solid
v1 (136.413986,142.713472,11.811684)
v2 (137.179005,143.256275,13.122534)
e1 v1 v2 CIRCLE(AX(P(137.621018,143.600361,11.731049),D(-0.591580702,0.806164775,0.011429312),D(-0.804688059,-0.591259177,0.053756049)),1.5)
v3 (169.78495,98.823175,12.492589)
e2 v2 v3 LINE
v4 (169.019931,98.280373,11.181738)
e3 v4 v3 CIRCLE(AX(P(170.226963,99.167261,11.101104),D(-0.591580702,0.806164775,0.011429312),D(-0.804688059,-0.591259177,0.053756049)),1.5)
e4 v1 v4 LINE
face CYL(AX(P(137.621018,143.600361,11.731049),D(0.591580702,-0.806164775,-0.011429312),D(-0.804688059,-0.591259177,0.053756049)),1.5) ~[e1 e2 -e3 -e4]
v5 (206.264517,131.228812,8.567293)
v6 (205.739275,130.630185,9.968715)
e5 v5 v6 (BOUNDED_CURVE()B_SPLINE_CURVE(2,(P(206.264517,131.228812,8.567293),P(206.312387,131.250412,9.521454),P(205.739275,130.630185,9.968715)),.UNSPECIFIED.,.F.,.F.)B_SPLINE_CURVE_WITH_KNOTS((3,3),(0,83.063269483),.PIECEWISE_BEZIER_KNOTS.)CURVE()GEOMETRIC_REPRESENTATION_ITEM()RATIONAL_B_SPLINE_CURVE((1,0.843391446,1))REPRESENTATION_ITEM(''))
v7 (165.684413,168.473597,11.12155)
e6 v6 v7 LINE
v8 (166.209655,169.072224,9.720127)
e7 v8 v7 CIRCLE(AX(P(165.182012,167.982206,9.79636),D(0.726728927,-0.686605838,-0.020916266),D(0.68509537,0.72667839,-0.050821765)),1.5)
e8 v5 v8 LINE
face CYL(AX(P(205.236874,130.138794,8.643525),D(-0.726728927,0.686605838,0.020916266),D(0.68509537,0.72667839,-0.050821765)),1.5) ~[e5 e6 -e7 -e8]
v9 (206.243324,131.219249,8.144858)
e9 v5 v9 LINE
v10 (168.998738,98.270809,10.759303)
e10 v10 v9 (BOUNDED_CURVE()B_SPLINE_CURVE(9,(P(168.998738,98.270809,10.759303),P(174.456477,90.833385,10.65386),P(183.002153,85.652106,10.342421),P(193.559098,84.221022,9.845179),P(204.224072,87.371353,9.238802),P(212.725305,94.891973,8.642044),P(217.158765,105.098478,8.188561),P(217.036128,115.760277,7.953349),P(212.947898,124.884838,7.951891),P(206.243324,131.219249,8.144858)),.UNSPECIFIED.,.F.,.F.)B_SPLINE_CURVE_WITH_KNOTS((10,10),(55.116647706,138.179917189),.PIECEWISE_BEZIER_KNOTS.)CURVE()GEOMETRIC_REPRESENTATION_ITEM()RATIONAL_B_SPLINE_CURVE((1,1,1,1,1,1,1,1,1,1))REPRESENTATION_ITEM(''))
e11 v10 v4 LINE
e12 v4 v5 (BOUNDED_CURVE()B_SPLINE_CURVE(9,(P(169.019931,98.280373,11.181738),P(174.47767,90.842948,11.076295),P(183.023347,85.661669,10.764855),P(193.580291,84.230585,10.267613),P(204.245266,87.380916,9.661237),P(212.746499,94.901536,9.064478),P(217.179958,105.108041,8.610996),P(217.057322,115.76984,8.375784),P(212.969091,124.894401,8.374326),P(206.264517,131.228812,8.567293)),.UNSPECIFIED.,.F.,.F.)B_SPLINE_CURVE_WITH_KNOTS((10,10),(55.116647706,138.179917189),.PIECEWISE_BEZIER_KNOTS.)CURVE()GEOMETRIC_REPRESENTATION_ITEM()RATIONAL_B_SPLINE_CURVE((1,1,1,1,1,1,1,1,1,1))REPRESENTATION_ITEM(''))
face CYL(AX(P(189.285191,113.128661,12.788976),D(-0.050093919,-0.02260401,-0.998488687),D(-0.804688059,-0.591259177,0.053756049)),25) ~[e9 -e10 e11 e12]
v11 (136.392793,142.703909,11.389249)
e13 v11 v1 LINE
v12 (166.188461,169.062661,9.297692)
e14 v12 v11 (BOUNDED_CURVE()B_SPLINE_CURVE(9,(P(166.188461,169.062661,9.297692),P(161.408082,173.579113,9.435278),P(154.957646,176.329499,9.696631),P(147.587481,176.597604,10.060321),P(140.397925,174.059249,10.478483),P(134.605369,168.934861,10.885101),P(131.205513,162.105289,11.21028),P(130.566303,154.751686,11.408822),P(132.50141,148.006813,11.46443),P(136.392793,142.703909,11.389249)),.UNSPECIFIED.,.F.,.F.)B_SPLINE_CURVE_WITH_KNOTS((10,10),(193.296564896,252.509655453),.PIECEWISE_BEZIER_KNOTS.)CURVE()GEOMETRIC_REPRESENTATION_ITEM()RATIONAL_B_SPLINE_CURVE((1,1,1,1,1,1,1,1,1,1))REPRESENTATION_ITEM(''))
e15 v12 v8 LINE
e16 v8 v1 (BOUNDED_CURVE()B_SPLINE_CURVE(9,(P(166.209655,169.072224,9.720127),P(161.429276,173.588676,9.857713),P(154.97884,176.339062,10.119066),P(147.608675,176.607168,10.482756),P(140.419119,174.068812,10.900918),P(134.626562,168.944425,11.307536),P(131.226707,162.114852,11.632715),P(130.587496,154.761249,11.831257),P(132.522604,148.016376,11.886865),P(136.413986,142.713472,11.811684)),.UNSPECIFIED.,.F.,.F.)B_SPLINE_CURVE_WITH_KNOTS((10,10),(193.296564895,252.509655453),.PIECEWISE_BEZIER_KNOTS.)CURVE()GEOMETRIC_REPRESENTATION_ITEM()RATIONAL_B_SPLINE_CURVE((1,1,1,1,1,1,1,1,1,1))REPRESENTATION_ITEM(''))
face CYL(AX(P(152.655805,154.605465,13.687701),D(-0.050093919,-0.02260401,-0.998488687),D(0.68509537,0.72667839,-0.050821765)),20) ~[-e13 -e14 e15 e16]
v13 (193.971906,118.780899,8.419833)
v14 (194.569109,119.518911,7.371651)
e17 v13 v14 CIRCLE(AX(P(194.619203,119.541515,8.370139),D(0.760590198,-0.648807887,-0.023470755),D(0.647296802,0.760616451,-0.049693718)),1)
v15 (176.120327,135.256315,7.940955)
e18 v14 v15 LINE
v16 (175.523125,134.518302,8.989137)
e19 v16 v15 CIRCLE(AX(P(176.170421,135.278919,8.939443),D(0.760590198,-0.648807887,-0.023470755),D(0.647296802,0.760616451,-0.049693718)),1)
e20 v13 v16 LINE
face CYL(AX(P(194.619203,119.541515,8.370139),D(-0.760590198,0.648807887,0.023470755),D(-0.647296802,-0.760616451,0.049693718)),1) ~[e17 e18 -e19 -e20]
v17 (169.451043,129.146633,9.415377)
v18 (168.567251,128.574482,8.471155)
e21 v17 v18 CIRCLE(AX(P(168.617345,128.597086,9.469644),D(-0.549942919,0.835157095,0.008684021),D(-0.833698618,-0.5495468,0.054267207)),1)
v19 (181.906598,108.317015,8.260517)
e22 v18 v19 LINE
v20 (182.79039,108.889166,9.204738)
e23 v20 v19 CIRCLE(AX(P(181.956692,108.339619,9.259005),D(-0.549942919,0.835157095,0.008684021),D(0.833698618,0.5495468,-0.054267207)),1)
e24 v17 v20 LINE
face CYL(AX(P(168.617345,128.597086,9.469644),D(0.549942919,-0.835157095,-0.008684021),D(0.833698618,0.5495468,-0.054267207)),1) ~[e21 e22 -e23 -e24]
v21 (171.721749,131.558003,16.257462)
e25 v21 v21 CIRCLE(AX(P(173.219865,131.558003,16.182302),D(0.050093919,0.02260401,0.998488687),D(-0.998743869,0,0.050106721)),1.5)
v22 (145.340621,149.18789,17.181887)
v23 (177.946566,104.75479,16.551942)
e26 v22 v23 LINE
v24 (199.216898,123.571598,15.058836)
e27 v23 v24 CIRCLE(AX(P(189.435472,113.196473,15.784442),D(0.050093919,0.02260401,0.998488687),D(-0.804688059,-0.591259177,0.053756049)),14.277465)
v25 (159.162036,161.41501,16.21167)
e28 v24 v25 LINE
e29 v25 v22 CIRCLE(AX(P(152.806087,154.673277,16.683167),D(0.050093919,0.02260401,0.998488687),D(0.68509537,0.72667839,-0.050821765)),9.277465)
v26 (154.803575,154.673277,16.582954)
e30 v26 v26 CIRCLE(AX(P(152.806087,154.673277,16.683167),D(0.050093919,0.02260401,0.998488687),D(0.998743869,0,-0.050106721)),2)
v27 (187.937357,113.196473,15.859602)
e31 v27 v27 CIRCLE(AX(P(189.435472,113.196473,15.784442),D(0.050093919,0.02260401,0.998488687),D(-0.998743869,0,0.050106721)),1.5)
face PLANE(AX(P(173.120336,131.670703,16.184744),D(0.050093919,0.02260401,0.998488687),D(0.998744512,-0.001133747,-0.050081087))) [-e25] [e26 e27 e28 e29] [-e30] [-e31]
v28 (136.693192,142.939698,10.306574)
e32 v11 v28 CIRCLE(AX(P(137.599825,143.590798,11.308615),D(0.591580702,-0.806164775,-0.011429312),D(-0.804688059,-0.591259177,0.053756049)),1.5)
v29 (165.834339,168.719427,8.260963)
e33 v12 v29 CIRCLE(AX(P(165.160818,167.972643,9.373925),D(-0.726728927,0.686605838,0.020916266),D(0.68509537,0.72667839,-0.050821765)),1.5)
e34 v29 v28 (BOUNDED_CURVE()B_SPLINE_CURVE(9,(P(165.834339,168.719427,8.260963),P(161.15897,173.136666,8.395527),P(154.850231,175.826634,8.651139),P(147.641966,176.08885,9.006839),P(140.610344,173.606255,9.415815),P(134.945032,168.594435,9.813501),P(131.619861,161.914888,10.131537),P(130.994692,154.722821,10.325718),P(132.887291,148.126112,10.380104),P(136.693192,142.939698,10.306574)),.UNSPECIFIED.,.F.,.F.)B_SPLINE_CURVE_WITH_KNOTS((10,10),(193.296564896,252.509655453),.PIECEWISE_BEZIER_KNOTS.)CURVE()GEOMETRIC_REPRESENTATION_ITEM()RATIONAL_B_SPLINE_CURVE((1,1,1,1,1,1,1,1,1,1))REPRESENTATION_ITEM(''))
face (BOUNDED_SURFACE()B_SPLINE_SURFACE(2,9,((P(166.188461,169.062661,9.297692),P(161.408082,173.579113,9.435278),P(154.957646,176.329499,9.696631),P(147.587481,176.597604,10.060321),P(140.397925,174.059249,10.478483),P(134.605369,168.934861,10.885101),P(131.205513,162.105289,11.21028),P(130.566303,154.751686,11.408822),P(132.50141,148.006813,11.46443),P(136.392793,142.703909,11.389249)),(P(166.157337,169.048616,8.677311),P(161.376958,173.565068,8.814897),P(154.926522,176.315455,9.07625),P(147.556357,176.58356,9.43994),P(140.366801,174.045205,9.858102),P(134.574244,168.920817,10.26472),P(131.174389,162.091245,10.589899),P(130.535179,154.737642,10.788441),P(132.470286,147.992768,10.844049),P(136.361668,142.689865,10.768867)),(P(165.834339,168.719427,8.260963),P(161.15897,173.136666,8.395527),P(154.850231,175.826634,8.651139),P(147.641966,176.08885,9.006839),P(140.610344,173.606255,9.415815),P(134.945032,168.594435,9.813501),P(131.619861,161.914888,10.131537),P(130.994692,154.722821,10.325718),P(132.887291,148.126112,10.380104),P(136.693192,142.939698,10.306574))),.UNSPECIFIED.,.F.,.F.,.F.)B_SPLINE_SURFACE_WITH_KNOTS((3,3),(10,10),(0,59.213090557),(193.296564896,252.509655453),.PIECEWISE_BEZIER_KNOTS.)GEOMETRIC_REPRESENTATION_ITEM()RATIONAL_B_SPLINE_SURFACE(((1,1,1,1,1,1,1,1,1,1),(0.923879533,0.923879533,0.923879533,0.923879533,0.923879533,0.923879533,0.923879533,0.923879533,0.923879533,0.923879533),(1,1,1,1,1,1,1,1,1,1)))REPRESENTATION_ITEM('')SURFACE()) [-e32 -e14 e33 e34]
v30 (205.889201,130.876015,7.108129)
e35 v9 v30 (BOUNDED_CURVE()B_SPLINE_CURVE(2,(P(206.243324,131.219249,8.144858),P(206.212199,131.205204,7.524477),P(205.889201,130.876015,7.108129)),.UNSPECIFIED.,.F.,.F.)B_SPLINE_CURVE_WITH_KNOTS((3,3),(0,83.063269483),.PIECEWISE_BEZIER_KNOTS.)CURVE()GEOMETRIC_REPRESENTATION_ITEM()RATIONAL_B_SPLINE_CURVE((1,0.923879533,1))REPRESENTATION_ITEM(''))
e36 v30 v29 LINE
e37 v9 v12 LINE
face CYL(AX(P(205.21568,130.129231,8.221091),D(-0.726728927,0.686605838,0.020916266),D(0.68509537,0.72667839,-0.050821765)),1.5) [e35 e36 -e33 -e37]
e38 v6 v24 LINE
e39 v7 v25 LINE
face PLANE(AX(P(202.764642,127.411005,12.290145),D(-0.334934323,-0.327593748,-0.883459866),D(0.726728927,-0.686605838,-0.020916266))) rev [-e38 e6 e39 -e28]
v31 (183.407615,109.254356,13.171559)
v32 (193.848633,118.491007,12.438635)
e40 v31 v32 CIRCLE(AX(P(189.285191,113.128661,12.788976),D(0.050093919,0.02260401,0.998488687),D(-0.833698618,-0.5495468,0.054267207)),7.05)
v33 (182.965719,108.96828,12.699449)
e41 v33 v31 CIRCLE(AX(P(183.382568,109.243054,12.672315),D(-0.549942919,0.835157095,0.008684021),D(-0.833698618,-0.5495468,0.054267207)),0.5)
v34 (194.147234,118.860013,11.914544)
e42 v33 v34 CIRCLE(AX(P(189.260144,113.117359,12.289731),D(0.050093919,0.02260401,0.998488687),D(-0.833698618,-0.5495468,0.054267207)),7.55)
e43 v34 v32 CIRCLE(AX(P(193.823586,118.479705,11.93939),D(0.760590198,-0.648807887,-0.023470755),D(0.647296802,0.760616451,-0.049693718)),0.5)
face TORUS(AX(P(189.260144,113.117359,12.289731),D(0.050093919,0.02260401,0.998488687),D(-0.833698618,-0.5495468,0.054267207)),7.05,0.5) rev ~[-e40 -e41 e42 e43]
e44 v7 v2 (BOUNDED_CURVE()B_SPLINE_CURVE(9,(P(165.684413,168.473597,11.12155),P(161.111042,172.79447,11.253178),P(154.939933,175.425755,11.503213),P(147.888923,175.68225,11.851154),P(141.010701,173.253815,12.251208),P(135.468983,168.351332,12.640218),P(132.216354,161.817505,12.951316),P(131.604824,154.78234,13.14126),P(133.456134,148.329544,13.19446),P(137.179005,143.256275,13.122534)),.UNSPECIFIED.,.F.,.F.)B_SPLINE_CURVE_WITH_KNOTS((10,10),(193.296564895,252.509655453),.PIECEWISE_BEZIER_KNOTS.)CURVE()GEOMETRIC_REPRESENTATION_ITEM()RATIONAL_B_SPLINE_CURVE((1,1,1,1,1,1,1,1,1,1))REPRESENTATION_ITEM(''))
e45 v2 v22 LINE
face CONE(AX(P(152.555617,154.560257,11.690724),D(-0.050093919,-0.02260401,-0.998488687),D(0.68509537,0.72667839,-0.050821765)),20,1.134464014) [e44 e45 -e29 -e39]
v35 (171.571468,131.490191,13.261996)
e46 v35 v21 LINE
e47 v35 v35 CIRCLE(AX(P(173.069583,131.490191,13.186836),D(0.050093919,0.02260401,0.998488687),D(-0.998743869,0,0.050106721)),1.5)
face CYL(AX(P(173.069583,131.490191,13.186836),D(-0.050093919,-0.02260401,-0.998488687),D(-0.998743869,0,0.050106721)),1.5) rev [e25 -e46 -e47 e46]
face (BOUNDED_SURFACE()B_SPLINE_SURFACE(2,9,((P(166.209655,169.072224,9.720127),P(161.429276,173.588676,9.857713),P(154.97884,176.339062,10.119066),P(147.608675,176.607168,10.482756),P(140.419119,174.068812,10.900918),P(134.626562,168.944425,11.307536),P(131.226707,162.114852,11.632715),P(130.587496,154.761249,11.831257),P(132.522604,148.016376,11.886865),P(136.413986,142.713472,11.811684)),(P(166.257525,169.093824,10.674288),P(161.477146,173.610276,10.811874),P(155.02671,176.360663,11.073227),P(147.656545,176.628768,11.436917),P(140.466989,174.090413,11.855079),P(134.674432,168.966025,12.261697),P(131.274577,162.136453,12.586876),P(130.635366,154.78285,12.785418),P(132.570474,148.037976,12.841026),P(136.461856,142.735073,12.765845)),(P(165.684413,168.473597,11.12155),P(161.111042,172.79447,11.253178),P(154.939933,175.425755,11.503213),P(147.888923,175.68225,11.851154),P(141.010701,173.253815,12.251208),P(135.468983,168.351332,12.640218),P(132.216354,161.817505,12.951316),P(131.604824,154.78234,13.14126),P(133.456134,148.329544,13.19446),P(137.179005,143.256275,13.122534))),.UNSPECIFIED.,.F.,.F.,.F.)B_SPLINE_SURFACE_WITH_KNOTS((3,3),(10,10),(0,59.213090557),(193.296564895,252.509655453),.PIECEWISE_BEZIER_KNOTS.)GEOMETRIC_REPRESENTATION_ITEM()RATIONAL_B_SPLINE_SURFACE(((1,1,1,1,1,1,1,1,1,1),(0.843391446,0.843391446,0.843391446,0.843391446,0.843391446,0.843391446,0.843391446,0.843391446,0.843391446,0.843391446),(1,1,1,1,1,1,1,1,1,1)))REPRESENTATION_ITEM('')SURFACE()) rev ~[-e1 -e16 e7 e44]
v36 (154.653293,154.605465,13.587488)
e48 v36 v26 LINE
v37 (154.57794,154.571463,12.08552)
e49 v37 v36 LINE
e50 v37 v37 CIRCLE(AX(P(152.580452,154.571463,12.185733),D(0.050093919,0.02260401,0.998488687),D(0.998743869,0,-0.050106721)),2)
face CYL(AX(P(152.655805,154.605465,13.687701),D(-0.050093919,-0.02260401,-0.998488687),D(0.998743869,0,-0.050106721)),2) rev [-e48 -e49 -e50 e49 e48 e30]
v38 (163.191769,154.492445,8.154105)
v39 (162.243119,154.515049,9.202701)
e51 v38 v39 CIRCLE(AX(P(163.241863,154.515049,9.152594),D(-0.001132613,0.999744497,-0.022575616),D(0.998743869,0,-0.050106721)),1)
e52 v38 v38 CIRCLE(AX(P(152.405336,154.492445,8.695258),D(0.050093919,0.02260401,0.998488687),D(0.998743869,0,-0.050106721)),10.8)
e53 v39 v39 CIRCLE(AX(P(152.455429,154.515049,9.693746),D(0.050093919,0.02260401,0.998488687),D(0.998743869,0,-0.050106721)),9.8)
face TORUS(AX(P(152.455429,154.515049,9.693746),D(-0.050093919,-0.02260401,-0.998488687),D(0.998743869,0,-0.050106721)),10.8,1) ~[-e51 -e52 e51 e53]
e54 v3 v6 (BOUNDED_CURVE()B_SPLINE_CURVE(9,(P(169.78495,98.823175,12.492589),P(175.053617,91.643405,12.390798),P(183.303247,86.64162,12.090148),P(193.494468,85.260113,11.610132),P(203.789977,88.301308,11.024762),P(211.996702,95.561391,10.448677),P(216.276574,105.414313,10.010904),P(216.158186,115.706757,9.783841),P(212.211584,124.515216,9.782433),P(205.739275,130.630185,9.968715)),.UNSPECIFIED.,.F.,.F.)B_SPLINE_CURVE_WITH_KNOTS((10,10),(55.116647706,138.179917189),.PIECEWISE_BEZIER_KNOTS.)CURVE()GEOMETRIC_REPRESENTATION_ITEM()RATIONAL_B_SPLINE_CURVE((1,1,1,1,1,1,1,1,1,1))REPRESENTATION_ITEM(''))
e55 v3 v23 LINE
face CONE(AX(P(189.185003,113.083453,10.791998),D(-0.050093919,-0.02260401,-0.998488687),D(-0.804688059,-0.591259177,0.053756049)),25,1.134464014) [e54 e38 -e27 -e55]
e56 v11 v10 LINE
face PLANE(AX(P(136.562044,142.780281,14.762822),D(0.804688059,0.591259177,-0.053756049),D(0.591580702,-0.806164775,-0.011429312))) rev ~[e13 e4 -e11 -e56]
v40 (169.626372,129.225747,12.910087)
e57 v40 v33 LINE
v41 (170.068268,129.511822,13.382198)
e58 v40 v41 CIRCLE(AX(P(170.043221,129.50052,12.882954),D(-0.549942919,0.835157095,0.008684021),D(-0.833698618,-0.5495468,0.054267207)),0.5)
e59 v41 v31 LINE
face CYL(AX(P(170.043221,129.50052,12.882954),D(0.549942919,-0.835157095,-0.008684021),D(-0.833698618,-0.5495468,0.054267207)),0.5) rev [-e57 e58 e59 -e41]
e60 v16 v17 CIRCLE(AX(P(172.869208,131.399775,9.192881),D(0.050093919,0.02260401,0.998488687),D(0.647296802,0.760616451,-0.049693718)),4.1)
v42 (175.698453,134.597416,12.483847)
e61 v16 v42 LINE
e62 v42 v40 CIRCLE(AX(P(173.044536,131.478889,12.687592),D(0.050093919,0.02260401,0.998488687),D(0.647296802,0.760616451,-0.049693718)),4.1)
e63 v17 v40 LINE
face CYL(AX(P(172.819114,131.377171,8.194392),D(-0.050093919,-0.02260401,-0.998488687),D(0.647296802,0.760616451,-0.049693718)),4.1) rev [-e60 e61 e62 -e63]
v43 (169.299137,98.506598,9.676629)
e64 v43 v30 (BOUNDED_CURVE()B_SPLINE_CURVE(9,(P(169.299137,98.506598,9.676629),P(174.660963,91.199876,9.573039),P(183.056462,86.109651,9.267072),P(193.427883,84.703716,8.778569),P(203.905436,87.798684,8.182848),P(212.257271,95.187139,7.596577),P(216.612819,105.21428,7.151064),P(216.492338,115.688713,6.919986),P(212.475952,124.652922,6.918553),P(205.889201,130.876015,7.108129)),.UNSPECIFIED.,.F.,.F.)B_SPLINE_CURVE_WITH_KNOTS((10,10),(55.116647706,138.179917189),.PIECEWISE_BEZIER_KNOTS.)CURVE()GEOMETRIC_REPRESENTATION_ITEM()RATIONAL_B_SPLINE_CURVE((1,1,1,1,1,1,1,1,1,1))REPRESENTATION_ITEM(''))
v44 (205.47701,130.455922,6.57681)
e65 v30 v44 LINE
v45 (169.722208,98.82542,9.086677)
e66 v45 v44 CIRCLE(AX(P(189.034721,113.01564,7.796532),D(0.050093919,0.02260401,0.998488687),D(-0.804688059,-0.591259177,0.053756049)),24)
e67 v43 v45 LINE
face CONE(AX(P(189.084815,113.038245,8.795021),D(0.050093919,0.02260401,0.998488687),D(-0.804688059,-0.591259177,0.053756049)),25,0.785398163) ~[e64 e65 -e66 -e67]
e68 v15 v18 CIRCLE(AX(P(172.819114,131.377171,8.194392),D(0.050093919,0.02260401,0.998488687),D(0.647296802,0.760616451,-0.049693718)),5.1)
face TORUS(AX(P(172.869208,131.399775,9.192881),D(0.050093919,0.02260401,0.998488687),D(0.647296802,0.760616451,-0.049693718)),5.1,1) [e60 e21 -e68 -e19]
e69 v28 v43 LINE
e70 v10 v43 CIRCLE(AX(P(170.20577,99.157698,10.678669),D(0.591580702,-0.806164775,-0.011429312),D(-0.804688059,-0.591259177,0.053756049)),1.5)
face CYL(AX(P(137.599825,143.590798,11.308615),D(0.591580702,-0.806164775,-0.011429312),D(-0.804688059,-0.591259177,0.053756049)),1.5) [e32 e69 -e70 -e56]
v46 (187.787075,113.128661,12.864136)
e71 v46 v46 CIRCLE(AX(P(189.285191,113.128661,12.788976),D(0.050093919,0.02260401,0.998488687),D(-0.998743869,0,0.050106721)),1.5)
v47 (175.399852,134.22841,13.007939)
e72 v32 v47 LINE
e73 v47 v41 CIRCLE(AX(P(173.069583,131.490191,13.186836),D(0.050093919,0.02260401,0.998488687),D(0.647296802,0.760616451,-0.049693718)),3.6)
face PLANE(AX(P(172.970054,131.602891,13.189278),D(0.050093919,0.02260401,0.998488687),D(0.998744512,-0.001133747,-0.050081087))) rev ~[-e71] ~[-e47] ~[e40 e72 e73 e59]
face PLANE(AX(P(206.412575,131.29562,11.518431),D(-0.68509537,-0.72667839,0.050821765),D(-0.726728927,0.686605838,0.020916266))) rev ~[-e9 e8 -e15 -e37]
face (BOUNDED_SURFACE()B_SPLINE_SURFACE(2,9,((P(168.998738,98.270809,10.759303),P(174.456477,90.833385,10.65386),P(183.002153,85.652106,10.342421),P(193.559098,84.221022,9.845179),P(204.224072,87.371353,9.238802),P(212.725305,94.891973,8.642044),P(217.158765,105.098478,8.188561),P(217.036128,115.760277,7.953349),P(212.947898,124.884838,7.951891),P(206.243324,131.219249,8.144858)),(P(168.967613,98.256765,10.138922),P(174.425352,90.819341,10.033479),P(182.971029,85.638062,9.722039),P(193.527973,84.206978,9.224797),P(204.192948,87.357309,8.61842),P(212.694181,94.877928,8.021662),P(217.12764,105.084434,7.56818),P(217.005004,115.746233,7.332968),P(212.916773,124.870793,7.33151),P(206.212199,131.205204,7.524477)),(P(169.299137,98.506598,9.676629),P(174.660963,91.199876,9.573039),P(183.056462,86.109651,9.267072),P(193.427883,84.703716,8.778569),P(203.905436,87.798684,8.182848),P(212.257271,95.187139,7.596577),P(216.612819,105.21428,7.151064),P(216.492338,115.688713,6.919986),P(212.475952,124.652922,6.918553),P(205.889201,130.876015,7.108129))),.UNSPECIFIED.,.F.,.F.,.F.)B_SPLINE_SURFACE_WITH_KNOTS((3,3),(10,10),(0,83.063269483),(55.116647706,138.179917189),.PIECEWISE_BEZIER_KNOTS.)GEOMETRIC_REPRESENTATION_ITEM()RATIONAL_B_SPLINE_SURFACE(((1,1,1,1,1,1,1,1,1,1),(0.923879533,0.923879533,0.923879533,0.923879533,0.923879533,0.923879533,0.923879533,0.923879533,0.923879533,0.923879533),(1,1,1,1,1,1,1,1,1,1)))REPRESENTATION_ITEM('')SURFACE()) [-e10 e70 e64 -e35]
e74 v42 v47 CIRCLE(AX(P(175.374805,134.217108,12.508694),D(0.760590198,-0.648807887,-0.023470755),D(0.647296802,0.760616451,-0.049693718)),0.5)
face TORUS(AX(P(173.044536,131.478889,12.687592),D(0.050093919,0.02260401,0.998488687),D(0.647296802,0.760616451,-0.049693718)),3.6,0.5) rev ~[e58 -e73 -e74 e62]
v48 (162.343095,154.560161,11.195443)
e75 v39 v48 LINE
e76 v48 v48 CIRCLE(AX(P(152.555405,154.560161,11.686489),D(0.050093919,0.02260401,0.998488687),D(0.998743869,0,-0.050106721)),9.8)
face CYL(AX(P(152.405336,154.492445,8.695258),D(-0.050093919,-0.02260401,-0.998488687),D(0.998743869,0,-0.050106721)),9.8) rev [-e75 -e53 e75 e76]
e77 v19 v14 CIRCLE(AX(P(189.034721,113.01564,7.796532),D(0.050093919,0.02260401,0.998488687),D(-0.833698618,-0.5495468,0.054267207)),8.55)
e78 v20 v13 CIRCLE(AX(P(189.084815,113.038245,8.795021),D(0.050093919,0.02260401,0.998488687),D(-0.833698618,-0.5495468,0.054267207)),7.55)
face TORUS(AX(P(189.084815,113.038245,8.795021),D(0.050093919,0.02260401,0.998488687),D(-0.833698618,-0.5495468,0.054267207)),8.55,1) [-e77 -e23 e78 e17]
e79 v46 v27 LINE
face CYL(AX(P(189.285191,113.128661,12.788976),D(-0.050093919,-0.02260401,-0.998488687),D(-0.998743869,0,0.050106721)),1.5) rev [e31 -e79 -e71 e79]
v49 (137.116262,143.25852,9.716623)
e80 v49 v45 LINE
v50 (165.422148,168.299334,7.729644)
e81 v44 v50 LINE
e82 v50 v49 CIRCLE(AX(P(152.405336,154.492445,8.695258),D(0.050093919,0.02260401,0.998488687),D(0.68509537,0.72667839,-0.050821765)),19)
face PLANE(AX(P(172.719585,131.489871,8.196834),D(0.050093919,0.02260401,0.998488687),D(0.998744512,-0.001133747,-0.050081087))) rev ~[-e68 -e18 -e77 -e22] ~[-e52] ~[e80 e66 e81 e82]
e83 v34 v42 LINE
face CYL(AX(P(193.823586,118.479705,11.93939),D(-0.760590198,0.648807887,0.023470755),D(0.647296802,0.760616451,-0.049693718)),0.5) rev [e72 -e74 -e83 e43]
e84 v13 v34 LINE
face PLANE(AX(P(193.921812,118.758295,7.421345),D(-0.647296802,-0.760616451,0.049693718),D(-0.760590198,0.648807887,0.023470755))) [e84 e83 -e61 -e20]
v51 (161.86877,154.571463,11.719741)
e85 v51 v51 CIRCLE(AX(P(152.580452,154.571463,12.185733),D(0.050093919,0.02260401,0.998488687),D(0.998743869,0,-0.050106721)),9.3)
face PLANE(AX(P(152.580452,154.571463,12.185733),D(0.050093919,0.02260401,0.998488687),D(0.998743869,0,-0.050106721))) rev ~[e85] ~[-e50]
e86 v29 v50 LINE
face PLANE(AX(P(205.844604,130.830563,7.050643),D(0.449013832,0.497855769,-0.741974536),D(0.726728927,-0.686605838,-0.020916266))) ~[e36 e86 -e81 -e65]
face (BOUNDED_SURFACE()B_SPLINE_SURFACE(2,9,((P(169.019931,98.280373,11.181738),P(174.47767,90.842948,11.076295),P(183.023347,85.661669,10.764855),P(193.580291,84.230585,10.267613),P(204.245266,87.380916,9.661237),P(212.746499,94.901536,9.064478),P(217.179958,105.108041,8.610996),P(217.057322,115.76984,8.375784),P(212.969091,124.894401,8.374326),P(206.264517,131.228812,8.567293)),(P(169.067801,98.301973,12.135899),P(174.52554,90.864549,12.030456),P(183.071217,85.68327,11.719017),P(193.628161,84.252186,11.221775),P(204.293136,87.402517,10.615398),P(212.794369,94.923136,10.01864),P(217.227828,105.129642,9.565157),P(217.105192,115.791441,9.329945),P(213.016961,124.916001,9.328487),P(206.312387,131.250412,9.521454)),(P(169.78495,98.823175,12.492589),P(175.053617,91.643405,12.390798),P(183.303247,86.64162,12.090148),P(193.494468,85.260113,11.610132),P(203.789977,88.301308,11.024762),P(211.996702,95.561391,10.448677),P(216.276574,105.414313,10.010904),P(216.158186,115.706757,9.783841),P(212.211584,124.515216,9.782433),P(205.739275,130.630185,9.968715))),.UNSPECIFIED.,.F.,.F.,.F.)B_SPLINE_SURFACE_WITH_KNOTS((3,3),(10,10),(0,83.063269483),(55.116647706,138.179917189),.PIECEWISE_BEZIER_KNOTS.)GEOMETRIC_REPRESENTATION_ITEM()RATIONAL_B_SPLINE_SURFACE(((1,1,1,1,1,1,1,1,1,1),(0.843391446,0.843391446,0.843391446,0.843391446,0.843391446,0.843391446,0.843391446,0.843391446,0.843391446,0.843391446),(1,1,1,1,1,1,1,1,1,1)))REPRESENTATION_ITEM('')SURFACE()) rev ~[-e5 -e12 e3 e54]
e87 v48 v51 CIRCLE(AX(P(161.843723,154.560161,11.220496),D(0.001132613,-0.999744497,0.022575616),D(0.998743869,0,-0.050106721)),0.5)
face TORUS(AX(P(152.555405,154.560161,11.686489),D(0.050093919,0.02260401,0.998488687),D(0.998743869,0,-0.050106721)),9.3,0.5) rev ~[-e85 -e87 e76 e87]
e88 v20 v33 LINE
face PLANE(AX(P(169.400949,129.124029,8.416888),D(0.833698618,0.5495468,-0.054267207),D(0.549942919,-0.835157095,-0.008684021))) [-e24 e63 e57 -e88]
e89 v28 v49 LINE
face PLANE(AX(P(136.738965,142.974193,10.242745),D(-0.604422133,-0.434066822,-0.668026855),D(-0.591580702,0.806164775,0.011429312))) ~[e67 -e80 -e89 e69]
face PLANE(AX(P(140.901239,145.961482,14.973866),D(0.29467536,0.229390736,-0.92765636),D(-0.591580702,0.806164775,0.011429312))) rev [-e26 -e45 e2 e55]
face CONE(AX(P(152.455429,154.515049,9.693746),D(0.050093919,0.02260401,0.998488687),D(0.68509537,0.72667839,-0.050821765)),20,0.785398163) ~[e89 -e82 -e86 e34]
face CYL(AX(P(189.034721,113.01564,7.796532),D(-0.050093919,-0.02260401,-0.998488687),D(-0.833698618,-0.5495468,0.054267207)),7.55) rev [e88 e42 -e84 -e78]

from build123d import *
from OCP.BRepFilletAPI import BRepFilletAPI_MakeChamfer
from build123d.topology import SkipClean

# Parameters (mm, degrees)
SKETCH3_R           = 9.8
BOSS_EXTRUDE1_DEPTH = 5
BOSS_EXTRUDE2_START = -0.5
SKETCH4_R           = 9.8
SKETCH4_R_2         = 2
BOSS_EXTRUDE2_DEPTH = 1.504241
SKETCH5_R           = 2
SKETCH5_R_2         = 1.5
BOSS_EXTRUDE3_DEPTH = 3
CHAMFER1_SIZE       = 1
CHAMFER2_SIZE       = 5
CHAMFER2_SIZE2      = 10.722534603
FILLET2_R           = 1.5
FILLET3_R           = 0.5
FILLET4_R           = 1


with BuildPart() as part:
    # Sketch3 → Boss-Extrude1 (new body)
    with BuildSketch(Plane(origin=(0.992302705, 0.447759341, 19.778908295), x_dir=(0.9987445115277264, -0.0011337468343132525, -0.050081087361986604), z_dir=(0.050093918725163146, 0.022604009769024314, 0.998488686991054))):
        with BuildLine():
            Line((135.489377025, 142.409589945), (168.136309989, 98.002128608))
            ThreePointArc((168.136309989, 98.002128608), (204.84613825, 94.087969855), (205.427714644, 131.001299406))
            Line((205.427714644, 131.001299406), (165.322500749, 168.808926584))
            ThreePointArc((165.322500749, 168.808926584), (138.349498653, 169.233891264), (135.489377025, 142.409589945))
        make_face()
        with Locations(Location((151.603369143, 154.256077104, 0), (0, 0, 0.064975524))):
            Circle(SKETCH3_R, mode=Mode.SUBTRACT)
        with BuildLine():
            Line((168.620347594, 128.900459544), (181.976463063, 108.65294909))
            ThreePointArc((181.976463063, 108.65294909), (193.282136247, 107.156112711), (193.17203439, 118.559912204))
            Line((193.17203439, 118.559912204), (174.700061825, 134.280399778))
            ThreePointArc((174.700061825, 134.280399778), (169.325765337, 134.228511806), (168.620347594, 128.900459544))
        make_face(mode=Mode.SUBTRACT)
    extrude(amount=BOSS_EXTRUDE1_DEPTH)

    # Sketch4 → Boss-Extrude2 (add)
    with SkipClean():  # the faces are left unmerged after this step: merging them gives an invalid solid
        with BuildSketch(Plane(origin=(1.192465921, 0.538079512, 23.768628243), x_dir=(0.9987445115277264, -0.0011337468343132332, -0.05008108736198663), z_dir=(0.050093918725163174, 0.022604009769023943, 0.998488686991054)).offset(BOSS_EXTRUDE2_START)):
            with Locations(Location((151.603369143, 154.256077104, 0), (0, 0, 0.064975524))):
                Circle(SKETCH4_R)
            with Locations(Location((151.603369143, 154.256077104, 0), (0, 0, 0.064975524))):
                Circle(SKETCH4_R_2, mode=Mode.SUBTRACT)
        extrude(amount=BOSS_EXTRUDE2_DEPTH)

    # Sketch5 → Boss-Extrude3 (add)
    with BuildSketch(Plane(origin=(1.242772298, 0.56077939, 24.77135173), x_dir=(0.9987445115277264, -0.0011337468343133737, -0.05008108736198685), z_dir=(0.05009391872516338, 0.022604009769026656, 0.9984886869910538))):
        with BuildLine():
            Line((205.427714644, 131.001299406), (165.322500749, 168.808926584))
            ThreePointArc((165.322500749, 168.808926584), (138.349498653, 169.233891264), (135.489377025, 142.409589945))
            Line((135.489377025, 142.409589945), (168.136309989, 98.002128608))
            ThreePointArc((168.136309989, 98.002128608), (204.84613825, 94.087969855), (205.427714644, 131.001299406))
        make_face()
        with Locations(Location((151.603369143, 154.256077104, 0), (0, 0, 0.064975524))):
            Circle(SKETCH5_R, mode=Mode.SUBTRACT)
        with Locations(Location((188.278800137, 112.810237556, 0), (0, 0, 180.064975524))):
            Circle(SKETCH5_R_2, mode=Mode.SUBTRACT)
        with Locations(Location((172.042808787, 131.158059903, 0), (0, 0, 180.064975524))):
            Circle(SKETCH5_R_2, mode=Mode.SUBTRACT)
    extrude(amount=BOSS_EXTRUDE3_DEPTH)

    # Chamfer1
    chamfer1_edges = [part.edges().sort_by_distance(p)[0] for p in [
        (186.13467409, 150.10430628, 7.102405178),
        (205.581258989, 94.279385266, 7.390552074),
        (152.614546937, 120.450711021, 9.45540598),
        (139.168105157, 169.481448694, 9.020041697),
    ]]
    chamfer(chamfer1_edges, length=CHAMFER1_SIZE)

    # Chamfer2: one chamfer whose edges measure the first distance from different faces: ONE call of the kernel's chamfer builder (chamfer() names one face for all edges)
    chamfer2_edges_1 = [part.edges().sort_by_distance(p)[0] for p in [
        (205.982010339, 94.460217345, 15.37846157),
    ]]
    chamfer2_side_1 = [part.faces().sort_by_distance(p)[0] for p in [
        (205.806681624, 94.38110331, 11.883751166),
    ]]
    chamfer2_edges_2 = [part.edges().sort_by_distance(p)[0] for p in [
        (186.53542544, 150.285138359, 15.090314673),
    ]]
    chamfer2_side_2 = [part.faces().sort_by_distance(p)[0] for p in [
        (186.360096725, 150.206024324, 11.595604269),
    ]]
    chamfer2_edges_3 = [part.edges().sort_by_distance(p)[0] for p in [
        (139.568856507, 169.662280772, 17.007951193),
    ]]
    chamfer2_side_3 = [part.faces().sort_by_distance(p)[0] for p in [
        (139.393527791, 169.583166738, 13.513240789),
    ]]
    chamfer2_edges_4 = [part.edges().sort_by_distance(p)[0] for p in [
        (153.015298286, 120.631543099, 17.443315476),
    ]]
    chamfer2_side_4 = [part.faces().sort_by_distance(p)[0] for p in [
        (152.839969571, 120.552429065, 13.948605072),
    ]]
    chamfer2 = BRepFilletAPI_MakeChamfer(part.part.solid().wrapped)
    for e in chamfer2_edges_1:
        chamfer2.Add(CHAMFER2_SIZE, CHAMFER2_SIZE2, e.wrapped, chamfer2_side_1[0].wrapped)  # the first distance lies on this face
    for e in chamfer2_edges_2:
        chamfer2.Add(CHAMFER2_SIZE, CHAMFER2_SIZE2, e.wrapped, chamfer2_side_2[0].wrapped)  # the first distance lies on this face
    for e in chamfer2_edges_3:
        chamfer2.Add(CHAMFER2_SIZE, CHAMFER2_SIZE2, e.wrapped, chamfer2_side_3[0].wrapped)  # the first distance lies on this face
    for e in chamfer2_edges_4:
        chamfer2.Add(CHAMFER2_SIZE, CHAMFER2_SIZE2, e.wrapped, chamfer2_side_4[0].wrapped)  # the first distance lies on this face
    add(Compound.cast(chamfer2.Shape()), mode=Mode.REPLACE)

    # Fillet2
    fillet2_edges = [part.edges().sort_by_distance(p)[0] for p in [
        (152.664640855, 120.473315031, 10.453894667),
        (205.631352908, 94.301989276, 8.389040761),
        (139.218199076, 169.504052703, 10.018530384),
        (186.184768009, 150.12691029, 8.100893865),
        (152.764828693, 120.51852305, 12.450872041),
        (205.731540745, 94.347197296, 10.386018135),
        (139.318386913, 169.549260723, 12.015507758),
        (186.284955847, 150.17211831, 10.097871238),
    ]]
    fillet(fillet2_edges, radius=FILLET2_R)

    # Fillet3
    fillet3_edges = [part.edges().sort_by_distance(p)[0] for p in [
        (170.355951089, 134.562936532, 13.253416622),
        (176.3210925, 119.108315502, 13.304012184),
        (194.282245052, 107.470311467, 12.666369547),
        (184.947890817, 126.740016435, 12.698439798),
        (142.792761903, 154.571462674, 12.676779171),
    ]]
    fillet(fillet3_edges, radius=FILLET3_R)

    # Fillet4
    fillet4_edges = [part.edges().sort_by_distance(p)[0] for p in [
        (170.105481495, 134.449916484, 8.260973187),
        (176.070622906, 118.995295453, 8.311568749),
        (194.031775458, 107.357291418, 7.673926112),
        (184.697421224, 126.626996387, 7.705996363),
        (142.617645646, 154.492444508, 9.186303567),
    ]]
    fillet(fillet4_edges, radius=FILLET4_R)


solid = part.part
